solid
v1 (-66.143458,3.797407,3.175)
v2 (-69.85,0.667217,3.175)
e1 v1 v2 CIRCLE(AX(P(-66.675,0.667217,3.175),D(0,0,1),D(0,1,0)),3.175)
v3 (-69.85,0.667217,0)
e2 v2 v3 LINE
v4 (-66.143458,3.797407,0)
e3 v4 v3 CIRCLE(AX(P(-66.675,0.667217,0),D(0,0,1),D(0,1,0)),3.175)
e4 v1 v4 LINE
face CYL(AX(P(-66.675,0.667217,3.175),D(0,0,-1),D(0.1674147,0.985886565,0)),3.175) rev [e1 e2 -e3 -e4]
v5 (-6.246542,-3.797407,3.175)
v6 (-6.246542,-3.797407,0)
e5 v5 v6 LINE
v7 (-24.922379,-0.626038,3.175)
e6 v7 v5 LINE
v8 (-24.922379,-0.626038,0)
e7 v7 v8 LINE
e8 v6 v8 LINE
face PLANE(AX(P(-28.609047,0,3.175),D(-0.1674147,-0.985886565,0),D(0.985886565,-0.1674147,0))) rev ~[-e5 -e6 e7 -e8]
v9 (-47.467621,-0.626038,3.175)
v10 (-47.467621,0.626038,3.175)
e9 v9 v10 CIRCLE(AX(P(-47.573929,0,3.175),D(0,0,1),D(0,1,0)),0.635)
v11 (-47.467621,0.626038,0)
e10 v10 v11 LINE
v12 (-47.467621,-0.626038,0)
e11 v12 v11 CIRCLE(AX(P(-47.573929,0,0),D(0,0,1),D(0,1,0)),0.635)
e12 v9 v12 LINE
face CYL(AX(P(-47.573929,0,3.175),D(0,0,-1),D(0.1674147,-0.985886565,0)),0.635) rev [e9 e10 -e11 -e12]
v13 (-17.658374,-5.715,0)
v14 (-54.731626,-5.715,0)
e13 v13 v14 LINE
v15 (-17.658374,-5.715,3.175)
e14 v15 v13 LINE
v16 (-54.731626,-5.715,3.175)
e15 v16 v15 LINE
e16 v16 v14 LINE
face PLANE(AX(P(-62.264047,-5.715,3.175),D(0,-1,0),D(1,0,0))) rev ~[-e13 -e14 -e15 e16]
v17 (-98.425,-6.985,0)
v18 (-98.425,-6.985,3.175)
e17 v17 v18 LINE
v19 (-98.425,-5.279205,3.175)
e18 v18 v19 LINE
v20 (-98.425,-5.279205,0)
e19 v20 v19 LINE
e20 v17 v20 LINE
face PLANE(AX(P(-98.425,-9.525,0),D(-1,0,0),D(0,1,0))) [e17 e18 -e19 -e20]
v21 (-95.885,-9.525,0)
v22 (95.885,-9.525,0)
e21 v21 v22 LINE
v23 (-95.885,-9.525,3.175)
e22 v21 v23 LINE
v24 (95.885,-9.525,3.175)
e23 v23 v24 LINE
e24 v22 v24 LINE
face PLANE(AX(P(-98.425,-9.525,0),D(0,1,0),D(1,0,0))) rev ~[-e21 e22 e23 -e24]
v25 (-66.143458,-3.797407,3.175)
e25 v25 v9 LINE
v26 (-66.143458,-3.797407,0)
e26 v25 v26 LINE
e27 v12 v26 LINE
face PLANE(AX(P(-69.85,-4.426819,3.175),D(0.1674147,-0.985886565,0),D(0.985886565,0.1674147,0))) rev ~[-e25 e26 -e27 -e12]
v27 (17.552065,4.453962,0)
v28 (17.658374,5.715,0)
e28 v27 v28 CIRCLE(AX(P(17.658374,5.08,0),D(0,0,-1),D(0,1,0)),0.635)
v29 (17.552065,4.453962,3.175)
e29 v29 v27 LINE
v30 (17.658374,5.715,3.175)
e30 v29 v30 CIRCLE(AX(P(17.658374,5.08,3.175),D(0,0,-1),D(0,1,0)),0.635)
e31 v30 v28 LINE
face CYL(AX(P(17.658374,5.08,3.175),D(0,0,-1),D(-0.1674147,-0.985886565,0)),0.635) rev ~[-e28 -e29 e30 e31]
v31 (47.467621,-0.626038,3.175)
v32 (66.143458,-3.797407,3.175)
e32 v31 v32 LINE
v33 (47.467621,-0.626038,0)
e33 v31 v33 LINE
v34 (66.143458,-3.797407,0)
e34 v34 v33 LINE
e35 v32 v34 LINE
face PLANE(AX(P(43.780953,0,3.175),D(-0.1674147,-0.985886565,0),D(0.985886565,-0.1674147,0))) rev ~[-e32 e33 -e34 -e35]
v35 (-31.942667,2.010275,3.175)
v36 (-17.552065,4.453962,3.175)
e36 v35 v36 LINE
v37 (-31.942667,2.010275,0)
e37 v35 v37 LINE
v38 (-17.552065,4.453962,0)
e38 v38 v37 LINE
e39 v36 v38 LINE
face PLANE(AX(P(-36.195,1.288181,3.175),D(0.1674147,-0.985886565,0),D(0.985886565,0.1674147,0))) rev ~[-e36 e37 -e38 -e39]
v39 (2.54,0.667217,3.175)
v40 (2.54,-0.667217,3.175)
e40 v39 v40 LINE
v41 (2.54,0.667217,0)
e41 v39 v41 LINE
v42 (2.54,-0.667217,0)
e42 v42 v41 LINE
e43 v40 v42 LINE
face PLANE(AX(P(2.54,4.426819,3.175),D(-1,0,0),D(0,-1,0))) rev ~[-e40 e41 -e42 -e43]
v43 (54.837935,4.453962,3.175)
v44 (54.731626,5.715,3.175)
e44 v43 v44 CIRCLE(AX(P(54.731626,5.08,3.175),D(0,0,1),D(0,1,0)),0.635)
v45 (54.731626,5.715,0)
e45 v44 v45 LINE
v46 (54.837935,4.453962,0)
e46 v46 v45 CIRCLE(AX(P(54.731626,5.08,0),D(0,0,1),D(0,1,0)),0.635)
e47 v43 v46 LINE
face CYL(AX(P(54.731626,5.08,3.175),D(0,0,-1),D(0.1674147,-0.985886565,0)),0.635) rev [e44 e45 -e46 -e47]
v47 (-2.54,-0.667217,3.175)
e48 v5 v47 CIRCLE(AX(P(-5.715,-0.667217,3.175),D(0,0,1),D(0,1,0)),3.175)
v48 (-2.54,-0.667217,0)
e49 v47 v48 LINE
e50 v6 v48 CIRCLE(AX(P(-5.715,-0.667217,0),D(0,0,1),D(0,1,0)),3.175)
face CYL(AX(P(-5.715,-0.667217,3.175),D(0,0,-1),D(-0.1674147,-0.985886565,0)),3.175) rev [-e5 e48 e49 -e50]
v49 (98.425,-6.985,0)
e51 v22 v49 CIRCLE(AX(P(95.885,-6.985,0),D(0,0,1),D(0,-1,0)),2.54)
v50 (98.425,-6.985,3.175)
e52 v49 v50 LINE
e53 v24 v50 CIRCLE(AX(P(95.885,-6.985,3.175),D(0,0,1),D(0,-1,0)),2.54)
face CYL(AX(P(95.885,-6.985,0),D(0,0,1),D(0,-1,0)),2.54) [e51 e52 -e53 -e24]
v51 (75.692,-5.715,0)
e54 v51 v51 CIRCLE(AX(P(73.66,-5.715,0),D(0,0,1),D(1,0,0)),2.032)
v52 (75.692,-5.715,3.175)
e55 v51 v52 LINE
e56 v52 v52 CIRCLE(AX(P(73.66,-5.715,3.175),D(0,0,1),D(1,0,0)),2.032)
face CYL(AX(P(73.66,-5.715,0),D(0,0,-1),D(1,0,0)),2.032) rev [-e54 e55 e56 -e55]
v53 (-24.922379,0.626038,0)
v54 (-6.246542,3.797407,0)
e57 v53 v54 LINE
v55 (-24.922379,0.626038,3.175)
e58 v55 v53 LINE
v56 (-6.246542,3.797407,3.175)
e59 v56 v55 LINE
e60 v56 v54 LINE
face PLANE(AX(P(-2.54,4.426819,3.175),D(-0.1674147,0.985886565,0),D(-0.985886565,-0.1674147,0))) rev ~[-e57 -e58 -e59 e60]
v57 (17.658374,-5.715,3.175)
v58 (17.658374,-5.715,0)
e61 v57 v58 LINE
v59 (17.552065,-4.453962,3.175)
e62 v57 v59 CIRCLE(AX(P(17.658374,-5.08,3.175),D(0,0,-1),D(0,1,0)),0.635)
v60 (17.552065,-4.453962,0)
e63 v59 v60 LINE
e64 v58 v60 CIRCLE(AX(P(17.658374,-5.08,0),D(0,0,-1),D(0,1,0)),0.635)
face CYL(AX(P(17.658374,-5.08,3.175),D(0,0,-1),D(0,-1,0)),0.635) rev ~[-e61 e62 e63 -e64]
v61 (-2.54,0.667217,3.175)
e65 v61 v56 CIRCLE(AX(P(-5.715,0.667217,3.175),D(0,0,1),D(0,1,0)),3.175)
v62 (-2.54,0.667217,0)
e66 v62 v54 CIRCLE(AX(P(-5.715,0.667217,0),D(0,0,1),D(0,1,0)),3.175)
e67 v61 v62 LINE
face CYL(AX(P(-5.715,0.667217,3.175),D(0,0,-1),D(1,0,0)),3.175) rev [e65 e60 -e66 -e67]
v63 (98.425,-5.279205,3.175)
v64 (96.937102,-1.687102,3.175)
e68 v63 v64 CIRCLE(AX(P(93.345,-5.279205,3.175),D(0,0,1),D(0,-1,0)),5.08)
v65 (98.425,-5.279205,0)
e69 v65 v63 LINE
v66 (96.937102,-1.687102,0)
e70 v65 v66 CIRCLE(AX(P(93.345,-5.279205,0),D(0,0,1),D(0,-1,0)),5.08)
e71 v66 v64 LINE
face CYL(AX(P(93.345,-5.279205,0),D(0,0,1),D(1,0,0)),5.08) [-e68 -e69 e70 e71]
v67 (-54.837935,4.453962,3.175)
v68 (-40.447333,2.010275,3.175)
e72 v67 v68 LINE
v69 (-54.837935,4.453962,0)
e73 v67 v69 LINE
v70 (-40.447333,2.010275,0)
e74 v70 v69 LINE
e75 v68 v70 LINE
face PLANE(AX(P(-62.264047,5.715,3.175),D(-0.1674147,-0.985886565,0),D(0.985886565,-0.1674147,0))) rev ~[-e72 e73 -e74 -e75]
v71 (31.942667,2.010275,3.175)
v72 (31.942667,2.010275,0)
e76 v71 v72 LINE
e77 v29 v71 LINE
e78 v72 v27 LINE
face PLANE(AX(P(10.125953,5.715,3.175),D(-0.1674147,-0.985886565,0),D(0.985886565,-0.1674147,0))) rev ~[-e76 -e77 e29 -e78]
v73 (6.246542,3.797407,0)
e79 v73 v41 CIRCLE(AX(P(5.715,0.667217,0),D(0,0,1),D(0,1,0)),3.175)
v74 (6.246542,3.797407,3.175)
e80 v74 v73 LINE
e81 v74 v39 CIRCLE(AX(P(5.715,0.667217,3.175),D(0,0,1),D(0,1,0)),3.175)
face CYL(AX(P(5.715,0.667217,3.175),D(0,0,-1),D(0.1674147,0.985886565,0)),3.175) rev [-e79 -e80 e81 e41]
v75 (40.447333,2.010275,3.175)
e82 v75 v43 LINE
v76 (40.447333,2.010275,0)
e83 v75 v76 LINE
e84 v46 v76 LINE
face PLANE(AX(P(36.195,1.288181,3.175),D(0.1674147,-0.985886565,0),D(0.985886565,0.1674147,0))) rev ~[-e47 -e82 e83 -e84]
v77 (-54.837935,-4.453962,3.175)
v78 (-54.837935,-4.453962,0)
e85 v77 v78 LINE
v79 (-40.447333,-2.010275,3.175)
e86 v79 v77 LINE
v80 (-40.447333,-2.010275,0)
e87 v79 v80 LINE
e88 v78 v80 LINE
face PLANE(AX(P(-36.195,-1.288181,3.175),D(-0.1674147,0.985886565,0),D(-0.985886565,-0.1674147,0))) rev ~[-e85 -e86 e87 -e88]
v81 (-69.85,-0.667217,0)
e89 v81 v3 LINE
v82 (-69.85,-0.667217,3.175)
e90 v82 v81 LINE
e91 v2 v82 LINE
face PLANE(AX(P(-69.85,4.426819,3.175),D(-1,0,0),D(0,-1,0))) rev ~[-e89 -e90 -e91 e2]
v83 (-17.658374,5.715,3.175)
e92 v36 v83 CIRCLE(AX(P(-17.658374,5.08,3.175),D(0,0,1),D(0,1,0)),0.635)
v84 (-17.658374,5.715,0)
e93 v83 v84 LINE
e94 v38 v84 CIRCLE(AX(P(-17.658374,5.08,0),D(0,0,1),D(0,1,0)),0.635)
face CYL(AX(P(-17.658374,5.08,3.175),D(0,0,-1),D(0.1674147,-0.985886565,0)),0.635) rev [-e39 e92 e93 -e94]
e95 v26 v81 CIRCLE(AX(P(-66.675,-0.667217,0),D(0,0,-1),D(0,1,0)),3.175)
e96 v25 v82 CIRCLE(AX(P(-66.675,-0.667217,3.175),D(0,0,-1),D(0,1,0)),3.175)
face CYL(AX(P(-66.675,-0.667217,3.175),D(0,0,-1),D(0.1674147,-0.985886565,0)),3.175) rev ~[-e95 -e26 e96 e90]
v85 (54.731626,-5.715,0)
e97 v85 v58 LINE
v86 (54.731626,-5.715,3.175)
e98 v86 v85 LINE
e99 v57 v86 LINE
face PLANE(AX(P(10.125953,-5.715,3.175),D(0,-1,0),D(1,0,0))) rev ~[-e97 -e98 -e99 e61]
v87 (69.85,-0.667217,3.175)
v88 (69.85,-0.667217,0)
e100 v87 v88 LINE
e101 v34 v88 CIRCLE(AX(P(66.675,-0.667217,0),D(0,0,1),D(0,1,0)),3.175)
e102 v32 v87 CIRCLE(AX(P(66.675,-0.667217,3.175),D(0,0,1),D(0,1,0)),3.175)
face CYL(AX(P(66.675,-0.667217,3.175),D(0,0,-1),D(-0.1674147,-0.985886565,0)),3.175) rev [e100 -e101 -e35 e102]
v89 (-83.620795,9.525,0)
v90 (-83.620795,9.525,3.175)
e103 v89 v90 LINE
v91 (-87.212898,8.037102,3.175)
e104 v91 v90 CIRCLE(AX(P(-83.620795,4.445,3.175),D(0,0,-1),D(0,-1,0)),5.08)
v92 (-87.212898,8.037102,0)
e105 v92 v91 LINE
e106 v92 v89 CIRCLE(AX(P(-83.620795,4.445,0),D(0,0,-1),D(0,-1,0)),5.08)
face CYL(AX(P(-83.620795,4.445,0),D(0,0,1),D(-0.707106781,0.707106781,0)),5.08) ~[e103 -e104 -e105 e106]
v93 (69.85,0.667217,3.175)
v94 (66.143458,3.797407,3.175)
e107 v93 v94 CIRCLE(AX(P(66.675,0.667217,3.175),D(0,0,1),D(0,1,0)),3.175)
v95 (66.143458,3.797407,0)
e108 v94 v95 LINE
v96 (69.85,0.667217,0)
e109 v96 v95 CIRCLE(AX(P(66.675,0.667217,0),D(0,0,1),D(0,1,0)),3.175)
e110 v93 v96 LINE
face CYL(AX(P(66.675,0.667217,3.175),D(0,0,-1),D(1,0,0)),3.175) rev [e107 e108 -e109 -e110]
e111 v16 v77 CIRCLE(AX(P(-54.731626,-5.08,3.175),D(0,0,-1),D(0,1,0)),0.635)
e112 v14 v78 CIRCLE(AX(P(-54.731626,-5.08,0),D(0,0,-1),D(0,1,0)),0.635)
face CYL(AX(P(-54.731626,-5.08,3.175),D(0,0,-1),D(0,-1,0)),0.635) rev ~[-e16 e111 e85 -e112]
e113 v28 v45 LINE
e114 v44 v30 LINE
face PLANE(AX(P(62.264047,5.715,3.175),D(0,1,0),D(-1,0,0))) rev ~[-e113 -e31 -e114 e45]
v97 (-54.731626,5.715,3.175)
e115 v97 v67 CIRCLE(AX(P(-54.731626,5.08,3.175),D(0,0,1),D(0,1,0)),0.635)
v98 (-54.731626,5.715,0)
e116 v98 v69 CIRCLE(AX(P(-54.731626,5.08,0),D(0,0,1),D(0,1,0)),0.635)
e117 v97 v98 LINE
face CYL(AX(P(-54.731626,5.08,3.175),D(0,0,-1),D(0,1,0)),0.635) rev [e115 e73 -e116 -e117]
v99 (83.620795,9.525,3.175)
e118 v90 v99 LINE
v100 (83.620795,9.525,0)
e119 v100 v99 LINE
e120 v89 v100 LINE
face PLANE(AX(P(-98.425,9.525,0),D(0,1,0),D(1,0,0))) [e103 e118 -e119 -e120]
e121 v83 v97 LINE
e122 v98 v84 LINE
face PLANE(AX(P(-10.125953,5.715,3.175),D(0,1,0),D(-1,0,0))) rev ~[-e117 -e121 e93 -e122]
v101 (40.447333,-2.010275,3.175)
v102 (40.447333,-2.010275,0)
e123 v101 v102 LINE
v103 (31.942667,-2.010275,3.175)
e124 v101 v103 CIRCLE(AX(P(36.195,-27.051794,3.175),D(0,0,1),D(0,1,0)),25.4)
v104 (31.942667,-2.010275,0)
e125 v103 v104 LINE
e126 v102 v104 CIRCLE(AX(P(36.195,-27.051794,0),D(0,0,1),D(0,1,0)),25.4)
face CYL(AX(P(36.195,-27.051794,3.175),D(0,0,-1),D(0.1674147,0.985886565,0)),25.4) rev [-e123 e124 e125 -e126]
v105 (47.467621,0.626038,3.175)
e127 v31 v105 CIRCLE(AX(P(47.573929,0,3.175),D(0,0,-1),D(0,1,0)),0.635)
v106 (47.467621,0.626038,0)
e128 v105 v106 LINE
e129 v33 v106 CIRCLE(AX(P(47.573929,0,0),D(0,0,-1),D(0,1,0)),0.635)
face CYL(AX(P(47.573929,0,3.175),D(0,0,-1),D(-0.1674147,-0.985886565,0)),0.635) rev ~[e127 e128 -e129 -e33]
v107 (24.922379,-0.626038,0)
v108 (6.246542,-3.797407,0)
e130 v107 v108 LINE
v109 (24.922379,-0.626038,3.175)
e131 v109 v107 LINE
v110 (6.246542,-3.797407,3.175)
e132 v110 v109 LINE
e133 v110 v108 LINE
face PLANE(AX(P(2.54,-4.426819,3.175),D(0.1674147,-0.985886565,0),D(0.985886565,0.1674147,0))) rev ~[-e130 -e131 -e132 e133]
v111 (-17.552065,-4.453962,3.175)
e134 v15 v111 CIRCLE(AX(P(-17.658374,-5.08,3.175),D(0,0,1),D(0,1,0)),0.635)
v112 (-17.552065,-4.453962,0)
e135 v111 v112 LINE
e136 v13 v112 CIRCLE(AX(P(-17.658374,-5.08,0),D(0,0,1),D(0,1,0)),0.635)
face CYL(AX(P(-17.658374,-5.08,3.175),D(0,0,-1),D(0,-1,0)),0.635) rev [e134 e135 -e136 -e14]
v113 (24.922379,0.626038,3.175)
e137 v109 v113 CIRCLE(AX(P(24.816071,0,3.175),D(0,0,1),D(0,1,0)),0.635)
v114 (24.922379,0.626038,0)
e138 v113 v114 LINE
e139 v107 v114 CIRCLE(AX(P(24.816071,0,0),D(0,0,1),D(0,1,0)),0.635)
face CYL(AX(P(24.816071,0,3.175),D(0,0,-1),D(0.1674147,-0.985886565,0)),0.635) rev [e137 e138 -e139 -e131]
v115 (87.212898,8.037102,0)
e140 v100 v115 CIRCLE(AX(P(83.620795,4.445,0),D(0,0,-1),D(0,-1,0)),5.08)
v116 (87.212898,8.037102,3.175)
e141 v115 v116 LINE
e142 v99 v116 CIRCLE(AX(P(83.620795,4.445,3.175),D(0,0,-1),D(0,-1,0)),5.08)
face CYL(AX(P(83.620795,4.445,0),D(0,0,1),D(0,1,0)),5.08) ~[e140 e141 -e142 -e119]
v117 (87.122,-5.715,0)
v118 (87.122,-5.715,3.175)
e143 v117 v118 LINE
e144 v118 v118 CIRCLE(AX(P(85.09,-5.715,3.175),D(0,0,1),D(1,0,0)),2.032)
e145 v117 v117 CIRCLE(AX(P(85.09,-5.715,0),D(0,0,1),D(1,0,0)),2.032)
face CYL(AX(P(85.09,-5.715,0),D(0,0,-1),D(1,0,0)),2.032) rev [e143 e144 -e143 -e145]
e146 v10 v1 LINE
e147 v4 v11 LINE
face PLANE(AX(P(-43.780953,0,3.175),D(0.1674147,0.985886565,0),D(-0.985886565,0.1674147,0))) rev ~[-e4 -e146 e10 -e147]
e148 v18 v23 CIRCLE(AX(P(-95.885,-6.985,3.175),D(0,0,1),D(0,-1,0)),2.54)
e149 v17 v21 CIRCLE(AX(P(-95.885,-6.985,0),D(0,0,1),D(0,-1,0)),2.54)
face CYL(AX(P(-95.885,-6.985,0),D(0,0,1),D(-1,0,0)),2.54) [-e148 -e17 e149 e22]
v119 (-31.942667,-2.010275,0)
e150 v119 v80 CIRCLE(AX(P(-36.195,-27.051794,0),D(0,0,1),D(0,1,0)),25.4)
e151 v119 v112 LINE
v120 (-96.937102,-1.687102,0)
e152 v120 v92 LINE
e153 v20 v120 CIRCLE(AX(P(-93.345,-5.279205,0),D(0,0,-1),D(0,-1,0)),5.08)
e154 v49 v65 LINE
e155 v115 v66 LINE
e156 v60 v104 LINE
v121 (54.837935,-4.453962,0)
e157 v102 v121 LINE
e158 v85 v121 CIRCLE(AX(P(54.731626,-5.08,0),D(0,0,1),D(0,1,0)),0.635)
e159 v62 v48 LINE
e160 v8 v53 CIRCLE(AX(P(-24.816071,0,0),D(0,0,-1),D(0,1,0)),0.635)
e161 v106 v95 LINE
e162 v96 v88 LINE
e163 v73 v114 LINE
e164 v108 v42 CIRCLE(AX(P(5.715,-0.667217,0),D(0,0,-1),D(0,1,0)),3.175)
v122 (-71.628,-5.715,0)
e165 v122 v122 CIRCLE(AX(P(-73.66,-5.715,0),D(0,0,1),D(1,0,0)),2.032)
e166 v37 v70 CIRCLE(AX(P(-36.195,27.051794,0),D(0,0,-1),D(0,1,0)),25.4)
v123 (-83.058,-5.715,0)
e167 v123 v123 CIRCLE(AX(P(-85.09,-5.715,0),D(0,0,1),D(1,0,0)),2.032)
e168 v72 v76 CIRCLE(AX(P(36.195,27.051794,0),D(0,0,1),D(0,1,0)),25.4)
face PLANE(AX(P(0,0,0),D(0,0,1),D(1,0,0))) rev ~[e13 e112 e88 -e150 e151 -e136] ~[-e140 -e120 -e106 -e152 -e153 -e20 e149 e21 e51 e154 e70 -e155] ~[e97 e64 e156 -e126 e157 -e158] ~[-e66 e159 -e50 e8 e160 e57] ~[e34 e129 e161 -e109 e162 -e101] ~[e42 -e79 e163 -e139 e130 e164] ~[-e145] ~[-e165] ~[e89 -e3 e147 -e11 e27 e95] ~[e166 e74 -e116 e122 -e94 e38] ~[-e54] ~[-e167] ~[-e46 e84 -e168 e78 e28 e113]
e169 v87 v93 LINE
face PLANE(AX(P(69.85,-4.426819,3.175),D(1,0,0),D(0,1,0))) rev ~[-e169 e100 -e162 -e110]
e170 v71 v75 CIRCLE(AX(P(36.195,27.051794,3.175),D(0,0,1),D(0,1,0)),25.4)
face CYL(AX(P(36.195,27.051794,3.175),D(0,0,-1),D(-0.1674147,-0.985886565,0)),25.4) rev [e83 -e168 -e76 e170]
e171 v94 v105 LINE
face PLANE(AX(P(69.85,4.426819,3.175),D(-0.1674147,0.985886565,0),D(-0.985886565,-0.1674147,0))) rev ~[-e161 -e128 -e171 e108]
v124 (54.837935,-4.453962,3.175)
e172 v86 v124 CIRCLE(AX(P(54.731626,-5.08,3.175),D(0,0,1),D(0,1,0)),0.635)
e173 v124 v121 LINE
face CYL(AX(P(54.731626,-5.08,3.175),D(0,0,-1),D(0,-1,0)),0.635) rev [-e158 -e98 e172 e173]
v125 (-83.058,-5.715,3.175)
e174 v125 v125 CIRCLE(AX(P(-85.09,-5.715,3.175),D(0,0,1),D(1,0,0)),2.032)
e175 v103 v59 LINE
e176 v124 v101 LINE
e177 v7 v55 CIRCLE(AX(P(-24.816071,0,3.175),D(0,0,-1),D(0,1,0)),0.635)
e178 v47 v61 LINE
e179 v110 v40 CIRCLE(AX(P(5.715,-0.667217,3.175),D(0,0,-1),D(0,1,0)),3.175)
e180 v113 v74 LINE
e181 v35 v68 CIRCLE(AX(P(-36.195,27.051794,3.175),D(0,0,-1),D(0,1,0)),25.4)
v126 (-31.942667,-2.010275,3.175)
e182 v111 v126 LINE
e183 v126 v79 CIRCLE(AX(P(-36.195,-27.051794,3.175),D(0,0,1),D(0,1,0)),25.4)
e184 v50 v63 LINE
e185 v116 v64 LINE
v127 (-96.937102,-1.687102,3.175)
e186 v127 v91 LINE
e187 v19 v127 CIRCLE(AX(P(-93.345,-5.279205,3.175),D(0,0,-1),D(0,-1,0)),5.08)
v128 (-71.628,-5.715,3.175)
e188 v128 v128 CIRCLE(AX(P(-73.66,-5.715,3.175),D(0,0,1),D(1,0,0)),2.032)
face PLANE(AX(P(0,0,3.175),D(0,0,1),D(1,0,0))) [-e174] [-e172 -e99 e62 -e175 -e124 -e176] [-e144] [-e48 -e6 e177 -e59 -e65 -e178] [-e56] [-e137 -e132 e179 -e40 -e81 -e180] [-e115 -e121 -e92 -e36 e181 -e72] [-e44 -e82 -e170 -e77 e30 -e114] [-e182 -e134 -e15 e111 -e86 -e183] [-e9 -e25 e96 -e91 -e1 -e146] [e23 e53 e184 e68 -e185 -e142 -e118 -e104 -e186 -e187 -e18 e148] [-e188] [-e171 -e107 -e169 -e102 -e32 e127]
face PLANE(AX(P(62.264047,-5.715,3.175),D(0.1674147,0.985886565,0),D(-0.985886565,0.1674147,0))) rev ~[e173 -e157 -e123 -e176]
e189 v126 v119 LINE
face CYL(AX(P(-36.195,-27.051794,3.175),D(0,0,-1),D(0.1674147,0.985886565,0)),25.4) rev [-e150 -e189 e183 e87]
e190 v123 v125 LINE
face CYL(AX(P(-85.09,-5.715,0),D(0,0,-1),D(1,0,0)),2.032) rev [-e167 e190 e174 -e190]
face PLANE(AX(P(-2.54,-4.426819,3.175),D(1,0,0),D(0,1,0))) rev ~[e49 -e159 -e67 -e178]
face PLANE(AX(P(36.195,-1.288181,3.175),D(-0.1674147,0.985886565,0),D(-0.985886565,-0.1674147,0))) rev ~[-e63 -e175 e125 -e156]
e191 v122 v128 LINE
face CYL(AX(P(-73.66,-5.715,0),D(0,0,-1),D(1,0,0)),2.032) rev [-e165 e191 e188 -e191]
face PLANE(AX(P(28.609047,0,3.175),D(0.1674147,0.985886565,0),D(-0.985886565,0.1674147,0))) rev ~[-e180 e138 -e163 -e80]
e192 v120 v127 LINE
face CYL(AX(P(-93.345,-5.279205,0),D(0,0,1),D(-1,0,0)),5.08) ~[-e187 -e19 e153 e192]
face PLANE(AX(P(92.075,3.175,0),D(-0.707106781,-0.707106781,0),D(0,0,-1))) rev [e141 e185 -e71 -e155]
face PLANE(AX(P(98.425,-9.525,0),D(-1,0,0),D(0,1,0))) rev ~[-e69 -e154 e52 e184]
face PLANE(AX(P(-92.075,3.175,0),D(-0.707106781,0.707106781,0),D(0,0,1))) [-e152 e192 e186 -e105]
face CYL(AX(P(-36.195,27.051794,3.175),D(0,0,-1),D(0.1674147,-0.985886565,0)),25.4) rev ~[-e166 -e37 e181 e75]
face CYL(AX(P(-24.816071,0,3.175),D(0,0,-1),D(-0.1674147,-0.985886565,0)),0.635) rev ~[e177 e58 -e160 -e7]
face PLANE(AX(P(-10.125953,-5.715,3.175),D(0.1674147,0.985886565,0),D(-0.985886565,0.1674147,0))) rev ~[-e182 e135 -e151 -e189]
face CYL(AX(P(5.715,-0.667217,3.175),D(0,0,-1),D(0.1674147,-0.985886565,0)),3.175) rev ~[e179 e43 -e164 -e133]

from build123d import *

# Parameters (mm, degrees)
SKETCH1_W           = 196.85
SKETCH1_H           = 19.05
SKETCH1_R           = 2.032
BOSS_EXTRUDE1_DEPTH = 3.175
CHAMFER1_SIZE       = 12.7
FILLET1_R           = 5.08
FILLET2_R           = 2.54
CUT_EXTRUDE1_REACH  = 100.936
FILLET3_R           = 3.175
FILLET4_R           = 0.635
FILLET5_R           = 25.4


with BuildPart() as part:
    # Sketch1 → Boss-Extrude1 (new body)
    with BuildSketch(Plane.XY):
        Rectangle(SKETCH1_W, SKETCH1_H)
        with Locations((-73.66, -5.715)):
            Circle(SKETCH1_R, mode=Mode.SUBTRACT)
        with Locations((-85.09, -5.715)):
            Circle(SKETCH1_R, mode=Mode.SUBTRACT)
        with Locations((73.66, -5.715)):
            Circle(SKETCH1_R, mode=Mode.SUBTRACT)
        with Locations((85.09, -5.715)):
            Circle(SKETCH1_R, mode=Mode.SUBTRACT)
    extrude(amount=BOSS_EXTRUDE1_DEPTH)

    # Chamfer1
    chamfer1_edges = [part.edges().sort_by_distance(p)[0] for p in [
        (-98.425, 9.525, 1.5875),
        (98.425, 9.525, 1.5875),
    ]]
    chamfer(chamfer1_edges, length=CHAMFER1_SIZE)

    # Fillet1
    fillet1_edges = [part.edges().sort_by_distance(p)[0] for p in [
        (-85.725, 9.525, 1.5875),
        (85.725, 9.525, 1.5875),
        (98.425, -3.175, 1.5875),
        (-98.425, -3.175, 1.5875),
    ]]
    fillet(fillet1_edges, radius=FILLET1_R)

    # Fillet2
    fillet2_edges = [part.edges().sort_by_distance(p)[0] for p in [
        (98.425, -9.525, 1.5875),
        (-98.425, -9.525, 1.5875),
    ]]
    fillet(fillet2_edges, radius=FILLET2_R)

    # Sketch2 → Cut-Extrude1 (cut, up to next)
    with BuildSketch(Plane.XY.offset(3.175), mode=Mode.PRIVATE) as cut_extrude1_sk1:
        Polygon((-62.264047257, 5.715), (-36.195, 1.288180654), (-10.125952743, 5.715), align=None)
    cut_extrude1_tool1 = extrude(cut_extrude1_sk1.sketch, amount=-CUT_EXTRUDE1_REACH, mode=Mode.PRIVATE) & part.part
    # Sketch2 → Cut-Extrude1 (cut, up to next)
    with BuildSketch(Plane.XY.offset(3.175), mode=Mode.PRIVATE) as cut_extrude1_sk2:
        Polygon((-69.85, 4.426819346), (-69.85, -4.426819346), (-43.780952743, 0), align=None)
    cut_extrude1_tool2 = extrude(cut_extrude1_sk2.sketch, amount=-CUT_EXTRUDE1_REACH, mode=Mode.PRIVATE) & part.part
    # Sketch2 → Cut-Extrude1 (cut, up to next)
    with BuildSketch(Plane.XY.offset(3.175), mode=Mode.PRIVATE) as cut_extrude1_sk3:
        Polygon((-36.195, -1.288180654), (-62.264047257, -5.715), (-10.125952743, -5.715), align=None)
    cut_extrude1_tool3 = extrude(cut_extrude1_sk3.sketch, amount=-CUT_EXTRUDE1_REACH, mode=Mode.PRIVATE) & part.part
    # Sketch2 → Cut-Extrude1 (cut, up to next)
    with BuildSketch(Plane.XY.offset(3.175), mode=Mode.PRIVATE) as cut_extrude1_sk4:
        Polygon((-2.54, 4.426819346), (-28.609047257, 0), (-2.54, -4.426819346), align=None)
    cut_extrude1_tool4 = extrude(cut_extrude1_sk4.sketch, amount=-CUT_EXTRUDE1_REACH, mode=Mode.PRIVATE) & part.part
    # Sketch2 → Cut-Extrude1 (cut, up to next)
    with BuildSketch(Plane.XY.offset(3.175), mode=Mode.PRIVATE) as cut_extrude1_sk5:
        Polygon((2.54, 4.426819346), (2.54, -4.426819346), (28.609047257, 0), align=None)
    cut_extrude1_tool5 = extrude(cut_extrude1_sk5.sketch, amount=-CUT_EXTRUDE1_REACH, mode=Mode.PRIVATE) & part.part
    # Sketch2 → Cut-Extrude1 (cut, up to next)
    with BuildSketch(Plane.XY.offset(3.175), mode=Mode.PRIVATE) as cut_extrude1_sk6:
        Polygon((62.264047257, 5.715), (10.125952743, 5.715), (36.195, 1.288180654), align=None)
    cut_extrude1_tool6 = extrude(cut_extrude1_sk6.sketch, amount=-CUT_EXTRUDE1_REACH, mode=Mode.PRIVATE) & part.part
    # Sketch2 → Cut-Extrude1 (cut, up to next)
    with BuildSketch(Plane.XY.offset(3.175), mode=Mode.PRIVATE) as cut_extrude1_sk7:
        Polygon((69.85, 4.426819346), (43.780952743, 0), (69.85, -4.426819346), align=None)
    cut_extrude1_tool7 = extrude(cut_extrude1_sk7.sketch, amount=-CUT_EXTRUDE1_REACH, mode=Mode.PRIVATE) & part.part
    # Sketch2 → Cut-Extrude1 (cut, up to next)
    with BuildSketch(Plane.XY.offset(3.175), mode=Mode.PRIVATE) as cut_extrude1_sk8:
        Polygon((36.195, -1.288180654), (10.125952743, -5.715), (62.264047257, -5.715), align=None)
    cut_extrude1_tool8 = extrude(cut_extrude1_sk8.sketch, amount=-CUT_EXTRUDE1_REACH, mode=Mode.PRIVATE) & part.part
    add(cut_extrude1_tool1.solids().sort_by_distance((-36.195, 4.239394, 3.175))[0], mode=Mode.SUBTRACT)
    add(cut_extrude1_tool2.solids().sort_by_distance((-61.160318, 0, 3.175))[0], mode=Mode.SUBTRACT)
    add(cut_extrude1_tool3.solids().sort_by_distance((-36.195, -4.239394, 3.175))[0], mode=Mode.SUBTRACT)
    add(cut_extrude1_tool4.solids().sort_by_distance((-11.229682, 0, 3.175))[0], mode=Mode.SUBTRACT)
    add(cut_extrude1_tool5.solids().sort_by_distance((11.229682, 0, 3.175))[0], mode=Mode.SUBTRACT)
    add(cut_extrude1_tool6.solids().sort_by_distance((36.195, 4.239394, 3.175))[0], mode=Mode.SUBTRACT)
    add(cut_extrude1_tool7.solids().sort_by_distance((61.160318, 0, 3.175))[0], mode=Mode.SUBTRACT)
    add(cut_extrude1_tool8.solids().sort_by_distance((36.195, -4.239394, 3.175))[0], mode=Mode.SUBTRACT)

    # Fillet3
    fillet3_edges = [part.edges().sort_by_distance(p)[0] for p in [
        (2.54, -4.426819346, 1.5875),
        (2.54, 4.426819346, 1.5875),
        (-2.54, 4.426819346, 1.5875),
        (-2.54, -4.426819346, 1.5875),
        (-69.85, -4.426819346, 1.5875),
        (-69.85, 4.426819346, 1.5875),
        (69.85, 4.426819346, 1.5875),
        (69.85, -4.426819346, 1.5875),
    ]]
    fillet(fillet3_edges, radius=FILLET3_R)

    # Fillet4
    fillet4_edges = [part.edges().sort_by_distance(p)[0] for p in [
        (28.609047257, 0, 1.5875),
        (-28.609047257, 0, 1.5875),
        (-43.780952743, 0, 1.5875),
        (-62.264047257, -5.715, 1.5875),
        (-10.125952743, -5.715, 1.5875),
        (62.264047257, -5.715, 1.5875),
        (10.125952743, -5.715, 1.5875),
        (10.125952743, 5.715, 1.5875),
        (62.264047257, 5.715, 1.5875),
        (43.780952743, 0, 1.5875),
        (-62.264047257, 5.715, 1.5875),
        (-10.125952743, 5.715, 1.5875),
    ]]
    fillet(fillet4_edges, radius=FILLET4_R)

    # Fillet5
    fillet5_edges = [part.edges().sort_by_distance(p)[0] for p in [
        (-36.195, -1.288180654, 1.5875),
        (36.195, -1.288180654, 1.5875),
        (36.195, 1.288180654, 1.5875),
        (-36.195, 1.288180654, 1.5875),
    ]]
    fillet(fillet5_edges, radius=FILLET5_R)


solid = part.part
